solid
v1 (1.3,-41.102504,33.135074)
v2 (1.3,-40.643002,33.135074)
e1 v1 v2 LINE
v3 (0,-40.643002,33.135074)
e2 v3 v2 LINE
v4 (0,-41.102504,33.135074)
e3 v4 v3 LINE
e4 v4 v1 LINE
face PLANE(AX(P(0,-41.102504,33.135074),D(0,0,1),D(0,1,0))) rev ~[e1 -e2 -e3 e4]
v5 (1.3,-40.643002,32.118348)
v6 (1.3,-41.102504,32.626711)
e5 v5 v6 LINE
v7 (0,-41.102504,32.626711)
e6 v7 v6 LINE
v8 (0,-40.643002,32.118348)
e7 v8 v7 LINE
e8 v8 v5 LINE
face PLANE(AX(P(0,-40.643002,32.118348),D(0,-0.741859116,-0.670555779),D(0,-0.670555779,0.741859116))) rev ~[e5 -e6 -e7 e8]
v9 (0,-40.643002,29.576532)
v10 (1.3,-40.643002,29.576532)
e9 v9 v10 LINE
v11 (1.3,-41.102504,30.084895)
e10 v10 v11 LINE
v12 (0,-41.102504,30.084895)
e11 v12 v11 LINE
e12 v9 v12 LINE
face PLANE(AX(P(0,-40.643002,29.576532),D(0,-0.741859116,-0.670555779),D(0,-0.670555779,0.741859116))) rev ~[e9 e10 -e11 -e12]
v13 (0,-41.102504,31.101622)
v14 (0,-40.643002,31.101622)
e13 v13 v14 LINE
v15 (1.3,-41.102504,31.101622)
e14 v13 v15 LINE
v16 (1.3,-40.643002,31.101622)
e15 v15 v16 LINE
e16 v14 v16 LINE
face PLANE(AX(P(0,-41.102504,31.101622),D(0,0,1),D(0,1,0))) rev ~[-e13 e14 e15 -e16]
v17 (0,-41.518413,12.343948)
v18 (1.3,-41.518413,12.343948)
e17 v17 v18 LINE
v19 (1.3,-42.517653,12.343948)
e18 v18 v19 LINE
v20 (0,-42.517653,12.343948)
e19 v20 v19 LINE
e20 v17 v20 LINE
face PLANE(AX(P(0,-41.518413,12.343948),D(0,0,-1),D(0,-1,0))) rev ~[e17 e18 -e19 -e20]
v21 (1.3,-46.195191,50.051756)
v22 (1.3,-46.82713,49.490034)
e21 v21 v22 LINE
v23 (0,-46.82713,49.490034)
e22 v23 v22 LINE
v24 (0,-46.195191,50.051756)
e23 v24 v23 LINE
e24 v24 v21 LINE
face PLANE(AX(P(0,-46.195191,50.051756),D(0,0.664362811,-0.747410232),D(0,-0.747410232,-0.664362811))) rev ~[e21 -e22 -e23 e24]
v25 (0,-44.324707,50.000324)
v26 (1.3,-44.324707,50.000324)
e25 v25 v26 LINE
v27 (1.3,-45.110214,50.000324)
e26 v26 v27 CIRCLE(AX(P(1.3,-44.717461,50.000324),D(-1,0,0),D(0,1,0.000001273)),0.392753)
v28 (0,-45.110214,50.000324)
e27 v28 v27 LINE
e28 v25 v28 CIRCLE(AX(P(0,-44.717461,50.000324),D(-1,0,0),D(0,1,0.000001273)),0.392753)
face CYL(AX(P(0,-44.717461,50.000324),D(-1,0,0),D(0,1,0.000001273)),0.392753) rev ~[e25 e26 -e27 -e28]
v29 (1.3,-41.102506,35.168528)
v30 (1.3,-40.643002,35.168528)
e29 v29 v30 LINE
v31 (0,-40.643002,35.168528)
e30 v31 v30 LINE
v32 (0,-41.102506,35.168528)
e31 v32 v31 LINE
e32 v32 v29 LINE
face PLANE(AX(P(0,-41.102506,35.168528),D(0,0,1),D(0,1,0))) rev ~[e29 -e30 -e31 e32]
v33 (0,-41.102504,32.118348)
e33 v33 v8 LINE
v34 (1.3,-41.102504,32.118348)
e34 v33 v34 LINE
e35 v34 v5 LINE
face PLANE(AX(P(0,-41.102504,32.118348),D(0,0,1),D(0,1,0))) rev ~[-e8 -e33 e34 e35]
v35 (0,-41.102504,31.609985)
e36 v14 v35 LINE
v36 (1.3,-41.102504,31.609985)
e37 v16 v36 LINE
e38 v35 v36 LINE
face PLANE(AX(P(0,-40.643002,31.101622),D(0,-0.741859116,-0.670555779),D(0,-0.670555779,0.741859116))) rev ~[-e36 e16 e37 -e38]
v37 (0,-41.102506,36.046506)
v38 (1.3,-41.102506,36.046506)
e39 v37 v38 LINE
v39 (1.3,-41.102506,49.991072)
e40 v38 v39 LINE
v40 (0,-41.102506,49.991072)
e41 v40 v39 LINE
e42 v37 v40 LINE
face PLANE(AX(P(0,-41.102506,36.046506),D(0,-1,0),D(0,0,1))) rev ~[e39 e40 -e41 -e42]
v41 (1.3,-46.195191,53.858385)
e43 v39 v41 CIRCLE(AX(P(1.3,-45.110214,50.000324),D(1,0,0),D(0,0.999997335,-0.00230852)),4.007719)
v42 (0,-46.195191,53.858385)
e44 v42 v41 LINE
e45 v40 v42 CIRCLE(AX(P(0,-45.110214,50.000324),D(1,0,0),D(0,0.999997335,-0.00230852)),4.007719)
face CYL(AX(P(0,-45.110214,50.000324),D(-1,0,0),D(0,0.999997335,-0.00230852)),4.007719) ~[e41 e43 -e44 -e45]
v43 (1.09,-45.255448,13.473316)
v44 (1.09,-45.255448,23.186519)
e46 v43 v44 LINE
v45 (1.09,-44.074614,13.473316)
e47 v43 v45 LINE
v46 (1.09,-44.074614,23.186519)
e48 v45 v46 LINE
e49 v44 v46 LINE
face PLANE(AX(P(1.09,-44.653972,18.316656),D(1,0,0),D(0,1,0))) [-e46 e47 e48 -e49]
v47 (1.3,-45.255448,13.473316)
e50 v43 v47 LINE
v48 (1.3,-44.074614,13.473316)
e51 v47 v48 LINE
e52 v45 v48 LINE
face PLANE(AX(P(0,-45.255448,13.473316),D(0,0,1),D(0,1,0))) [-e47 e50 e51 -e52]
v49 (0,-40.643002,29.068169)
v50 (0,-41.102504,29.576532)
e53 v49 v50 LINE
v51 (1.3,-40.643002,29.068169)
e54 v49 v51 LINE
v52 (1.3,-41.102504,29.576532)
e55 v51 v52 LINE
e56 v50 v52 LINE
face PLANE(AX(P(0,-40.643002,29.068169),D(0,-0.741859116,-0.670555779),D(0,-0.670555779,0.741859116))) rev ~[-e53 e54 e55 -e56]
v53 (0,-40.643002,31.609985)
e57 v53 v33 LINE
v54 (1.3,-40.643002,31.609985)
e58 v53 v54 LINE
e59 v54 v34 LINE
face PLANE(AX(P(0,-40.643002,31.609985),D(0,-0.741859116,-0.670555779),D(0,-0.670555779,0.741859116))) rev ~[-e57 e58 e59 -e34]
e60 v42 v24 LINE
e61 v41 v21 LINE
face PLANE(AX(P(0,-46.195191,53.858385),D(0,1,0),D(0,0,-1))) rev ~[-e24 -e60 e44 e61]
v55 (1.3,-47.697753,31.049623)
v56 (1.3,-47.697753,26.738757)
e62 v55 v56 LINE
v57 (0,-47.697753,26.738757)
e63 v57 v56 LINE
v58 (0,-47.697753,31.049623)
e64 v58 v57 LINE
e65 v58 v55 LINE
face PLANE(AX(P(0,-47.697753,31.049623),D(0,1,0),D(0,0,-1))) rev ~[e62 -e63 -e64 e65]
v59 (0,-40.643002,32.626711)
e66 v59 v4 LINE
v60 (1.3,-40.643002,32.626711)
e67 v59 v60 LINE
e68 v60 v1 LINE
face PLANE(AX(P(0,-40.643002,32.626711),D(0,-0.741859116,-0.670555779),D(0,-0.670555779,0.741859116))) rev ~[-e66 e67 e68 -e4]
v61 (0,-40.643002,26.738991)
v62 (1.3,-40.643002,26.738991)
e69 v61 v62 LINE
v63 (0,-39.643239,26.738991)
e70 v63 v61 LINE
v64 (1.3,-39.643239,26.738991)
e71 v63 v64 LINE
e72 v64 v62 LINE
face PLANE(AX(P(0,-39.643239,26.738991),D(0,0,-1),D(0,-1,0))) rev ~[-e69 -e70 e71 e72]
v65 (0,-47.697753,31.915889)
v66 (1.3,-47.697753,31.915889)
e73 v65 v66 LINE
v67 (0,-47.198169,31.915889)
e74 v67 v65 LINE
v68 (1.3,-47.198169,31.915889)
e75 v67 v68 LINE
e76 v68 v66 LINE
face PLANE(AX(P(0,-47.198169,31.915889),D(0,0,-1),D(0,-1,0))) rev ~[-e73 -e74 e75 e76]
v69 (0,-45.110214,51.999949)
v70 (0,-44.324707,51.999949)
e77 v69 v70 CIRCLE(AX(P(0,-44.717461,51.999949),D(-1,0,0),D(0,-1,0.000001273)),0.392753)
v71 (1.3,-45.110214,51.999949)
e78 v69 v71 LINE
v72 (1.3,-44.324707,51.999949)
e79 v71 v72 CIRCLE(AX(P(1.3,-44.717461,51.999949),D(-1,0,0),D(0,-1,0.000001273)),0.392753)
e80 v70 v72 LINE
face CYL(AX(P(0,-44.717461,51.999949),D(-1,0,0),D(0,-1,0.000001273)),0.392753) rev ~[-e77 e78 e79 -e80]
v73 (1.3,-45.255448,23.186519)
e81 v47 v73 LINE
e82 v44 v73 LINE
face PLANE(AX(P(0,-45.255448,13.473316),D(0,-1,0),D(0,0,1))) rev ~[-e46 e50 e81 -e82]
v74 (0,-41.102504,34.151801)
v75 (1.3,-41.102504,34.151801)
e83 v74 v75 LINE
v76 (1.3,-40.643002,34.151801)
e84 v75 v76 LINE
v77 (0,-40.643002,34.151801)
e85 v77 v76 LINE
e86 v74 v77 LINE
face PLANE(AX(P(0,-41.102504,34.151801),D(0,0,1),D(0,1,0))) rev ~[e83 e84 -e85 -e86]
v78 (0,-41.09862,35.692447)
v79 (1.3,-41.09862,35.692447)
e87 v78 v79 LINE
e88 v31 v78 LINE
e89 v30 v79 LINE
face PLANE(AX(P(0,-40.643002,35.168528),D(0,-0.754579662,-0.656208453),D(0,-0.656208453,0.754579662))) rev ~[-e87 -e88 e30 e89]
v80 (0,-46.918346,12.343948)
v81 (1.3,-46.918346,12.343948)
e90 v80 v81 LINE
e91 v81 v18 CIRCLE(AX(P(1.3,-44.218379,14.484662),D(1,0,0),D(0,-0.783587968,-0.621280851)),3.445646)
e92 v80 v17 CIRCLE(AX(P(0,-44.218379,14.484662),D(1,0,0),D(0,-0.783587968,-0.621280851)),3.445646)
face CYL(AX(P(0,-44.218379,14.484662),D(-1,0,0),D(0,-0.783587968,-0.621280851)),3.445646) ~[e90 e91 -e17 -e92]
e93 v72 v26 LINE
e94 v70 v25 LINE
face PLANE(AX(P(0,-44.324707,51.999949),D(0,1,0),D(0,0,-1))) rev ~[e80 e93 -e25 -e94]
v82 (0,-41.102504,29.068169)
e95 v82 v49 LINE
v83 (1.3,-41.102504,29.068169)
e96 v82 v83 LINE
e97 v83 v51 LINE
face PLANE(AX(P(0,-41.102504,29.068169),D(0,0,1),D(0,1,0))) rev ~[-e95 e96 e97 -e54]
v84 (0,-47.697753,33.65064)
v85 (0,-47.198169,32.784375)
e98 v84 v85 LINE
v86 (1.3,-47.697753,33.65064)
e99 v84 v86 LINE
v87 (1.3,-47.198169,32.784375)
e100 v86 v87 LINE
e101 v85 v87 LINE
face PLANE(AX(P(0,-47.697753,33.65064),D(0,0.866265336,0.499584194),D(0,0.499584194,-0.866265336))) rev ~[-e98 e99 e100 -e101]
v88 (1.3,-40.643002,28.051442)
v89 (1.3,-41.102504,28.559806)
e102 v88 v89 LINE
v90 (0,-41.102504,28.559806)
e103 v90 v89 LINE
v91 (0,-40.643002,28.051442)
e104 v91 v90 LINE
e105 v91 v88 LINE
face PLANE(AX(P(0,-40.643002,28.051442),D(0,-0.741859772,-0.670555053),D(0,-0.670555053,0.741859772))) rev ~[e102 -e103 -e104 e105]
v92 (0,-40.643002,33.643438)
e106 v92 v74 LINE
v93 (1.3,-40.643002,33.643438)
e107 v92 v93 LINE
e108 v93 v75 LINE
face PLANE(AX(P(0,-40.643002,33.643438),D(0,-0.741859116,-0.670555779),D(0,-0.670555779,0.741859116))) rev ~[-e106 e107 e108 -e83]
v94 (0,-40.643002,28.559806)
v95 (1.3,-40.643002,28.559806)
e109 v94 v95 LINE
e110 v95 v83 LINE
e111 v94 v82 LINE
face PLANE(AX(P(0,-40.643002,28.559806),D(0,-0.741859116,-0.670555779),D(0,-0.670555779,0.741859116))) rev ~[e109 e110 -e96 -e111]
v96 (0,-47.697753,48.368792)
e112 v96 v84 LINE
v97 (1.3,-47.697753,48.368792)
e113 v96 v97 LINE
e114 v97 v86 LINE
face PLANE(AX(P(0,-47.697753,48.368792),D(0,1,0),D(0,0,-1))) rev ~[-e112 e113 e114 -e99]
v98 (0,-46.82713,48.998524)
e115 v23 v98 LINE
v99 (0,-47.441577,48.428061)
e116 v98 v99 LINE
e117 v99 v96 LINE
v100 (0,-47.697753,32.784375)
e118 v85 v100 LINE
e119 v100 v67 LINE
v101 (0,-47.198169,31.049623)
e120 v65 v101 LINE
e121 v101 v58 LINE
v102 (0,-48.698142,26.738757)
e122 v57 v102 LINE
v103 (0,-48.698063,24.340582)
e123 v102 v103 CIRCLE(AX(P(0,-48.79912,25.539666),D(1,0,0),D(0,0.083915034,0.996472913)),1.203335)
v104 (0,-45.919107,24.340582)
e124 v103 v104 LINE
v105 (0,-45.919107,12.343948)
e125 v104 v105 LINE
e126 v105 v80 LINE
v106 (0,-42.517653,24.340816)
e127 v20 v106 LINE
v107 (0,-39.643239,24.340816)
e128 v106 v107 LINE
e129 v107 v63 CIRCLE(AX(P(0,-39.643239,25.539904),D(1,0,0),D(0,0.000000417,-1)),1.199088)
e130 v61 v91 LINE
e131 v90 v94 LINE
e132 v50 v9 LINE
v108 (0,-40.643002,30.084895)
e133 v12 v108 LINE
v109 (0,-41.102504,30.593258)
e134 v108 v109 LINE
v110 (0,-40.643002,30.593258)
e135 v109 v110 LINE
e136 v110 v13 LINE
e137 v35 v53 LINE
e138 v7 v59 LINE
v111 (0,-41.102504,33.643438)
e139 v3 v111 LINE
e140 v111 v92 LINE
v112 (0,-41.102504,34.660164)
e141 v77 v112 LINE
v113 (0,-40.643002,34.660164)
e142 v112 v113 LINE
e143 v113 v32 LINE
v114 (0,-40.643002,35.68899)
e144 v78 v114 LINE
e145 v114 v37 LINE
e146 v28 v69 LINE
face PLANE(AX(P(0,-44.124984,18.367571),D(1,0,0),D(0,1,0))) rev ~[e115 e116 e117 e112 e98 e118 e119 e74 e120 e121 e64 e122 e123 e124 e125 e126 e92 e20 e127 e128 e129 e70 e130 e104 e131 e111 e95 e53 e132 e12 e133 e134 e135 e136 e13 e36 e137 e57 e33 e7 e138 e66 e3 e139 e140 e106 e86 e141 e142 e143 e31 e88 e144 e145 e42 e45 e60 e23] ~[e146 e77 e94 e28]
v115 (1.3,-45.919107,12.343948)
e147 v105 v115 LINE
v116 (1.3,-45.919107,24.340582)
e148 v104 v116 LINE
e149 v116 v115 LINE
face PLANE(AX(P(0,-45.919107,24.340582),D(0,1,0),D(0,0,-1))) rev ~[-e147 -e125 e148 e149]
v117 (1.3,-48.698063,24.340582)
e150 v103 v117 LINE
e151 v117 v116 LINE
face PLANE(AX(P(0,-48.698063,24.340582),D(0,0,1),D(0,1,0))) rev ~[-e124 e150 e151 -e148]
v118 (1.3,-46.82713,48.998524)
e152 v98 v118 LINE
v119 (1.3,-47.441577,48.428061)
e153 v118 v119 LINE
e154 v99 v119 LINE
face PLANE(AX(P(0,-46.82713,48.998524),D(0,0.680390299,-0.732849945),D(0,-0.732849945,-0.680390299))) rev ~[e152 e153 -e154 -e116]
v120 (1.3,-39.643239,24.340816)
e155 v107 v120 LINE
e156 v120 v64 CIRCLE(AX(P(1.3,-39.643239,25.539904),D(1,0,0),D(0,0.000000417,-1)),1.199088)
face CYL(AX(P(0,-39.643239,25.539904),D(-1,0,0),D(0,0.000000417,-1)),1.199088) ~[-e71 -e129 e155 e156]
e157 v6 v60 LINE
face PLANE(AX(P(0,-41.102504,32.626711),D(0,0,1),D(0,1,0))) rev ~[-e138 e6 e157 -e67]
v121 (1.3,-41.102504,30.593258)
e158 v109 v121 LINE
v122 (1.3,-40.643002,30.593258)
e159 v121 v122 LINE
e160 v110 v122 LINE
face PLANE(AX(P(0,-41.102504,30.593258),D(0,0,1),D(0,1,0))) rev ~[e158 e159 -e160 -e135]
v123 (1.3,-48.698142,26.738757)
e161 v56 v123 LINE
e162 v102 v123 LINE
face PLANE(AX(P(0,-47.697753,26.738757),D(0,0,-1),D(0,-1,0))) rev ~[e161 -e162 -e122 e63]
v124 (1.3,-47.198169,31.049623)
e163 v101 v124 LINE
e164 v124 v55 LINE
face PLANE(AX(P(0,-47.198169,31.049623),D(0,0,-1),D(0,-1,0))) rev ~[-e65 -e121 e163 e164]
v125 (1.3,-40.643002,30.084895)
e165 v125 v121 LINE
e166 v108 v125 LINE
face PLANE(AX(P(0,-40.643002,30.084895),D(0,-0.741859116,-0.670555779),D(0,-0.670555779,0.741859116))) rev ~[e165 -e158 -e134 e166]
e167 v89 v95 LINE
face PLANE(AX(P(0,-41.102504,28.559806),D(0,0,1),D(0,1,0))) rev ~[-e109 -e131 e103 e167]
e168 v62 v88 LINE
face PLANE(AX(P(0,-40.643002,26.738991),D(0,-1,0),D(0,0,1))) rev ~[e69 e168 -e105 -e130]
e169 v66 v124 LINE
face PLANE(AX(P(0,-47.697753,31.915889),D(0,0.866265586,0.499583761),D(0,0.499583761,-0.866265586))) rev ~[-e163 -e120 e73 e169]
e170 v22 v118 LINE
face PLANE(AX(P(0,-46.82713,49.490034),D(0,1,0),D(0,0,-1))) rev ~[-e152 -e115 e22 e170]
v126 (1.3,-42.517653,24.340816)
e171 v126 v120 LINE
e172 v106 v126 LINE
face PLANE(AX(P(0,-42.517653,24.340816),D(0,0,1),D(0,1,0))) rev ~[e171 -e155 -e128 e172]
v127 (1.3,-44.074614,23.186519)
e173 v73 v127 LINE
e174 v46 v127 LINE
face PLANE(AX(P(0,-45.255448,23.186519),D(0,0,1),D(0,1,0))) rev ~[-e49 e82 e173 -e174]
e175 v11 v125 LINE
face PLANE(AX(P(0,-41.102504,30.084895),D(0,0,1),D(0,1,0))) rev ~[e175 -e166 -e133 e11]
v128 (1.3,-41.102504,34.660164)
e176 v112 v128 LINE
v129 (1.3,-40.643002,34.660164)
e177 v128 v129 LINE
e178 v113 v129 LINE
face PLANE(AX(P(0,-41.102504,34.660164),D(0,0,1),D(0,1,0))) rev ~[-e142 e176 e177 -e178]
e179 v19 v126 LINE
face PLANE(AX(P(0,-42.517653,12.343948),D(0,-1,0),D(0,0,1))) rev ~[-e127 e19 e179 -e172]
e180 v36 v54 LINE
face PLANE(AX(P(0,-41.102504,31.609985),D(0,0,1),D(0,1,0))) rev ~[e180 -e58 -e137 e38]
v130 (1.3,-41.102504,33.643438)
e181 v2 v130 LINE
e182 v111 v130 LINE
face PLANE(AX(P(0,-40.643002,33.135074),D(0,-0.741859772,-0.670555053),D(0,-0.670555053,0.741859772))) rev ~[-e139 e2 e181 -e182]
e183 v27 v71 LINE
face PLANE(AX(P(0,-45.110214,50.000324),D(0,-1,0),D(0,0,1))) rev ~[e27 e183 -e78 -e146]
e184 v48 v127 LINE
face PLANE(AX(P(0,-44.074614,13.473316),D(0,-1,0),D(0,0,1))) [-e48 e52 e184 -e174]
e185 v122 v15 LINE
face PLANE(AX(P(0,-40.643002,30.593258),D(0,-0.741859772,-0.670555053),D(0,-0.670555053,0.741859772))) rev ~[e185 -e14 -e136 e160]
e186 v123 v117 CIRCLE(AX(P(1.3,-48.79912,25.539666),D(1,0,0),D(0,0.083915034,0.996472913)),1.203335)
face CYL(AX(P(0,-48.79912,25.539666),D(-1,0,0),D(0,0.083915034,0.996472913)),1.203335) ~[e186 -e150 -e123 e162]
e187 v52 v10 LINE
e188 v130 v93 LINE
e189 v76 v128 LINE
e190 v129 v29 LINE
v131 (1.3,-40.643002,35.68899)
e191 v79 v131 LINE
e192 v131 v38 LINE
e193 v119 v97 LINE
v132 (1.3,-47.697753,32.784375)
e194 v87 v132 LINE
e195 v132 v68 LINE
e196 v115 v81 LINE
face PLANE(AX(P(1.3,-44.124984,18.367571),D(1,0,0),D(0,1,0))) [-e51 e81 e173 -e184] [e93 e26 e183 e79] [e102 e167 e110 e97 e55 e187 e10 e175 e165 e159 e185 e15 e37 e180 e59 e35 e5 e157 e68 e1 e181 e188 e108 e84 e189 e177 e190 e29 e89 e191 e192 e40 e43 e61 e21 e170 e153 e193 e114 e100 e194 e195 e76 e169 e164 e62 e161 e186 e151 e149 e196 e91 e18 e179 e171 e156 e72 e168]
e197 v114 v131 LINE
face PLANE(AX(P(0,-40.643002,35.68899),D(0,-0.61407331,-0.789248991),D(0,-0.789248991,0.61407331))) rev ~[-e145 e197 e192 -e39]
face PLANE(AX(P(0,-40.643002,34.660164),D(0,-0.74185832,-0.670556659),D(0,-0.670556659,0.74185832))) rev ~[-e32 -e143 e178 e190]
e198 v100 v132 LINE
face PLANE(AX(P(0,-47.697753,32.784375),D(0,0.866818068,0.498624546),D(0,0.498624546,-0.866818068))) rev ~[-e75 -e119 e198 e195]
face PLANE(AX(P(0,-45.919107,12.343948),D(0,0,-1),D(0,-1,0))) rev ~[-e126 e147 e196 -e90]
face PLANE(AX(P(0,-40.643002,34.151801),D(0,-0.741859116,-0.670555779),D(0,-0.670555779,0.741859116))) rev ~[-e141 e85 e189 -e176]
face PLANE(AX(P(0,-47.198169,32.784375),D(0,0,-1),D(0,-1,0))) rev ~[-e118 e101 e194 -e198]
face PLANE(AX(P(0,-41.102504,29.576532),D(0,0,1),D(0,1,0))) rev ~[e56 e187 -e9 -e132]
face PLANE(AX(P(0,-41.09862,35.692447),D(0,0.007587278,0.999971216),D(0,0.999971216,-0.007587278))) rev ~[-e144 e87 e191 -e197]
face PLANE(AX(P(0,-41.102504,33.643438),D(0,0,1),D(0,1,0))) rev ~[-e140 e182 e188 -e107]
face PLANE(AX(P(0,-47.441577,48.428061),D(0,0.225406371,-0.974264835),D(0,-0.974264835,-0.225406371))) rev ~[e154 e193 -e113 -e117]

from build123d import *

# Parameters (mm, degrees)
F0_W     = 1.180834
F0_H     = 9.713203
F1_DEPTH = 1.3
F2_W     = 1.340505
F2_H     = 10.058258
F3_DEPTH = 1.09


with BuildPart() as f1:
    # F0 (on Right) → F1 (new body)
    with BuildSketch(Plane.YZ):
        with BuildLine():
            Line((-42.517653, 24.340816), (-45.919107, 24.340582))
            Line((-45.919107, 24.340582), (-45.919107, 12.343948))
            Line((-45.919107, 12.343948), (-42.517653, 12.343948))
            Line((-42.517653, 12.343948), (-42.517653, 14.488947))
            Line((-42.517653, 14.488947), (-42.917089, 14.488947))
            ThreePointArc((-42.917089, 14.488947), (-43.065188, 14.637046), (-42.917089, 14.785144))
            ThreePointArc((-42.917089, 14.785144), (-43.067147, 14.935202), (-42.917089, 15.08526))
            ThreePointArc((-42.917089, 15.08526), (-43.067148, 15.235318), (-42.917089, 15.385376))
            ThreePointArc((-42.917089, 15.385376), (-43.067147, 15.535434), (-42.917089, 15.685491))
            Line((-42.917089, 15.685491), (-42.517653, 15.685491))
            Line((-42.517653, 15.685491), (-42.517653, 15.985669))
            Line((-42.517653, 15.985669), (-42.917089, 15.985669))
            ThreePointArc((-42.917089, 15.985669), (-43.066833, 16.135412), (-42.917089, 16.285156))
            ThreePointArc((-42.917089, 16.285156), (-43.06723, 16.435296), (-42.917089, 16.585436))
            ThreePointArc((-42.917089, 16.585436), (-43.066944, 16.735291), (-42.917089, 16.885145))
            ThreePointArc((-42.917089, 16.885145), (-43.066944, 17.034999), (-42.917089, 17.184854))
            ThreePointArc((-42.917089, 17.184854), (-43.066939, 17.334703), (-42.917089, 17.484553))
            ThreePointArc((-42.917089, 17.484553), (-43.066944, 17.634407), (-42.917089, 17.784262))
            ThreePointArc((-42.917089, 17.784262), (-43.06694, 17.934112), (-42.917089, 18.083963))
            ThreePointArc((-42.917089, 18.083963), (-43.067242, 18.234115), (-42.917089, 18.384267))
            ThreePointArc((-42.917089, 18.384267), (-43.067037, 18.534215), (-42.917089, 18.684162))
            ThreePointArc((-42.917089, 18.684162), (-43.067005, 18.834078), (-42.917089, 18.983994))
            ThreePointArc((-42.917089, 18.983994), (-43.067149, 19.134053), (-42.917089, 19.284112))
            ThreePointArc((-42.917089, 19.284112), (-43.067628, 19.434651), (-42.917089, 19.58519))
            ThreePointArc((-42.917089, 19.58519), (-43.067149, 19.735249), (-42.917089, 19.885308))
            ThreePointArc((-42.917089, 19.885308), (-43.067196, 20.035415), (-42.917089, 20.185521))
            ThreePointArc((-42.917089, 20.185521), (-43.067148, 20.335579), (-42.917089, 20.485638))
            ThreePointArc((-42.917089, 20.485638), (-43.067148, 20.635696), (-42.917089, 20.785754))
            ThreePointArc((-42.917089, 20.785754), (-43.067148, 20.935812), (-42.917089, 21.085871))
            ThreePointArc((-42.917089, 21.085871), (-43.067302, 21.236084), (-42.917089, 21.386296))
            ThreePointArc((-42.917089, 21.386296), (-43.067148, 21.536355), (-42.917089, 21.686413))
            ThreePointArc((-42.917089, 21.686413), (-43.067147, 21.83647), (-42.917089, 21.986527))
            ThreePointArc((-42.917089, 21.986527), (-43.067058, 22.136496), (-42.917089, 22.286465))
            ThreePointArc((-42.917089, 22.286465), (-43.067286, 22.436662), (-42.917089, 22.586859))
            ThreePointArc((-42.917089, 22.586859), (-43.066941, 22.736711), (-42.917089, 22.886562))
            ThreePointArc((-42.917089, 22.886562), (-43.067068, 23.03654), (-42.917089, 23.186519))
            Line((-42.917089, 23.186519), (-42.517653, 23.186519))
            Line((-42.517653, 23.186519), (-42.517653, 24.340816))
        make_face()
        with Locations((-44.665031, 18.329918)):
            Rectangle(F0_W, F0_H, mode=Mode.SUBTRACT)
        Polygon((-48.698063, 24.340582), (-45.919107, 24.340582), (-42.517653, 24.340816), (-39.643239, 24.340816), (-39.643239, 26.738991), (-40.643002, 26.738991), (-47.697753, 26.738757), (-48.698142, 26.738757), align=None)
        with BuildLine():
            Line((-42.517653, 12.343948), (-45.919107, 12.343948))
            Line((-45.919107, 12.343948), (-46.918346, 12.343948))
            ThreePointArc((-46.918346, 12.343948), (-44.21838, 11.039016), (-41.518413, 12.343948))
            Line((-41.518413, 12.343948), (-42.517653, 12.343948))
        make_face()
        with BuildLine():
            ThreePointArc((-48.698142, 26.738757), (-50.002455, 25.539626), (-48.698063, 24.340582))
            Line((-48.698063, 24.340582), (-48.698142, 26.738757))
        make_face()
        with BuildLine():
            Line((-42.517653, 22.886562), (-42.517653, 23.186519))
            Line((-42.517653, 23.186519), (-42.917089, 23.186519))
            ThreePointArc((-42.917089, 23.186519), (-43.067068, 23.03654), (-42.917089, 22.886562))
            Line((-42.917089, 22.886562), (-42.517653, 22.886562))
        make_face()
        with BuildLine():
            Line((-39.643239, 26.738991), (-39.643239, 24.340816))
            ThreePointArc((-39.643239, 24.340816), (-38.444152, 25.539904), (-39.643239, 26.738991))
        make_face()
        with BuildLine():
            Line((-42.917089, 14.488947), (-42.517653, 14.488947))
            Line((-42.517653, 14.488947), (-42.517653, 14.785144))
            Line((-42.517653, 14.785144), (-42.917089, 14.785144))
            ThreePointArc((-42.917089, 14.785144), (-43.065188, 14.637046), (-42.917089, 14.488947))
        make_face()
        with BuildLine():
            Line((-42.517653, 22.586859), (-42.517653, 22.886562))
            Line((-42.517653, 22.886562), (-42.917089, 22.886562))
            ThreePointArc((-42.917089, 22.886562), (-43.066941, 22.736711), (-42.917089, 22.586859))
            Line((-42.917089, 22.586859), (-42.517653, 22.586859))
        make_face()
        Polygon((-47.697753, 31.049623), (-47.697753, 26.738757), (-40.643002, 26.738991), (-40.643002, 28.051442), (-41.102504, 28.559806), (-40.643002, 28.559806), (-41.102504, 29.068169), (-40.643002, 29.068169), (-41.102504, 29.576532), (-40.643002, 29.576532), (-41.102504, 30.084895), (-40.643002, 30.084895), (-41.102504, 30.593258), (-40.643002, 30.593258), (-41.102504, 31.101622), (-40.643002, 31.101622), (-41.102504, 31.609985), (-40.643002, 31.609985), (-41.102504, 32.118348), (-40.643002, 32.118348), (-41.102504, 32.626711), (-40.643002, 32.626711), (-41.102504, 33.135074), (-40.643002, 33.135074), (-41.102504, 33.643438), (-40.643002, 33.643438), (-41.102504, 34.151801), (-40.643002, 34.151801), (-41.102504, 34.660164), (-40.643002, 34.660164), (-41.102506, 35.168528), (-40.643002, 35.168528), (-41.09862, 35.692447), (-40.643002, 35.68899), (-41.102506, 36.046506), (-42.228938, 36.922926), (-42.228938, 47.611012), (-42.228938, 48.368792), (-42.228938, 49.656781), (-42.228938, 50.742287), (-42.82525, 51.877759), (-43.982454, 52.871555), (-44.859211, 53.49781), (-45.443715, 53.858385), (-46.195191, 53.858385), (-46.195191, 50.859235), (-46.195191, 50.051756), (-46.82713, 49.490034), (-46.82713, 48.998524), (-47.441577, 48.428061), (-47.697753, 48.368792), (-47.697753, 33.65064), (-47.198169, 32.784375), (-47.697753, 32.784375), (-47.198169, 31.915889), (-47.697753, 31.915889), (-47.198169, 31.049623), align=None)
        with BuildLine():
            ThreePointArc((-44.324707, 50.000324), (-44.717461, 49.60757), (-45.110214, 50.000324))
            Line((-45.110214, 50.000324), (-45.110214, 51.999949))
            ThreePointArc((-45.110214, 51.999949), (-44.717461, 52.392702), (-44.324707, 51.999949))
            Line((-44.324707, 51.999949), (-44.324707, 50.000324))
        make_face(mode=Mode.SUBTRACT)
        with BuildLine():
            Line((-42.917089, 14.785144), (-42.517653, 14.785144))
            Line((-42.517653, 14.785144), (-42.517653, 15.08526))
            Line((-42.517653, 15.08526), (-42.917089, 15.08526))
            ThreePointArc((-42.917089, 15.08526), (-43.067147, 14.935202), (-42.917089, 14.785144))
        make_face()
        with BuildLine():
            Line((-42.517653, 22.286465), (-42.517653, 22.586859))
            Line((-42.517653, 22.586859), (-42.917089, 22.586859))
            ThreePointArc((-42.917089, 22.586859), (-43.067286, 22.436662), (-42.917089, 22.286465))
            Line((-42.917089, 22.286465), (-42.517653, 22.286465))
        make_face()
        with BuildLine():
            Line((-42.917089, 15.08526), (-42.517653, 15.08526))
            Line((-42.517653, 15.08526), (-42.517653, 15.385376))
            Line((-42.517653, 15.385376), (-42.917089, 15.385376))
            ThreePointArc((-42.917089, 15.385376), (-43.067148, 15.235318), (-42.917089, 15.08526))
        make_face()
        with BuildLine():
            Line((-42.517653, 21.986527), (-42.517653, 22.286465))
            Line((-42.517653, 22.286465), (-42.917089, 22.286465))
            ThreePointArc((-42.917089, 22.286465), (-43.067058, 22.136496), (-42.917089, 21.986527))
            Line((-42.917089, 21.986527), (-42.517653, 21.986527))
        make_face()
        with BuildLine():
            Line((-42.917089, 15.385376), (-42.517653, 15.385376))
            Line((-42.517653, 15.385376), (-42.517653, 15.685491))
            Line((-42.517653, 15.685491), (-42.917089, 15.685491))
            ThreePointArc((-42.917089, 15.685491), (-43.067147, 15.535434), (-42.917089, 15.385376))
        make_face()
        with BuildLine():
            Line((-42.517653, 21.686413), (-42.517653, 21.986527))
            Line((-42.517653, 21.986527), (-42.917089, 21.986527))
            ThreePointArc((-42.917089, 21.986527), (-43.067147, 21.83647), (-42.917089, 21.686413))
            Line((-42.917089, 21.686413), (-42.517653, 21.686413))
        make_face()
        with BuildLine():
            Line((-42.517653, 21.386296), (-42.517653, 21.686413))
            Line((-42.517653, 21.686413), (-42.917089, 21.686413))
            ThreePointArc((-42.917089, 21.686413), (-43.067148, 21.536355), (-42.917089, 21.386296))
            Line((-42.917089, 21.386296), (-42.517653, 21.386296))
        make_face()
        with BuildLine():
            Line((-42.917089, 15.985669), (-42.517653, 15.985669))
            Line((-42.517653, 15.985669), (-42.517653, 16.285156))
            Line((-42.517653, 16.285156), (-42.917089, 16.285156))
            ThreePointArc((-42.917089, 16.285156), (-43.066833, 16.135412), (-42.917089, 15.985669))
        make_face()
        with BuildLine():
            Line((-42.517653, 21.085871), (-42.517653, 21.386296))
            Line((-42.517653, 21.386296), (-42.917089, 21.386296))
            ThreePointArc((-42.917089, 21.386296), (-43.067302, 21.236084), (-42.917089, 21.085871))
            Line((-42.917089, 21.085871), (-42.517653, 21.085871))
        make_face()
        with BuildLine():
            Line((-42.917089, 16.285156), (-42.517653, 16.285156))
            Line((-42.517653, 16.285156), (-42.517653, 16.585436))
            Line((-42.517653, 16.585436), (-42.917089, 16.585436))
            ThreePointArc((-42.917089, 16.585436), (-43.06723, 16.435296), (-42.917089, 16.285156))
        make_face()
        with BuildLine():
            Line((-42.517653, 20.785754), (-42.517653, 21.085871))
            Line((-42.517653, 21.085871), (-42.917089, 21.085871))
            ThreePointArc((-42.917089, 21.085871), (-43.067148, 20.935812), (-42.917089, 20.785754))
            Line((-42.917089, 20.785754), (-42.517653, 20.785754))
        make_face()
        with BuildLine():
            Line((-42.917089, 16.585436), (-42.517653, 16.585436))
            Line((-42.517653, 16.585436), (-42.517653, 16.885145))
            Line((-42.517653, 16.885145), (-42.917089, 16.885145))
            ThreePointArc((-42.917089, 16.885145), (-43.066944, 16.735291), (-42.917089, 16.585436))
        make_face()
        with BuildLine():
            Line((-42.517653, 20.485638), (-42.517653, 20.785754))
            Line((-42.517653, 20.785754), (-42.917089, 20.785754))
            ThreePointArc((-42.917089, 20.785754), (-43.067148, 20.635696), (-42.917089, 20.485638))
            Line((-42.917089, 20.485638), (-42.517653, 20.485638))
        make_face()
        with BuildLine():
            Line((-42.917089, 16.885145), (-42.517653, 16.885145))
            Line((-42.517653, 16.885145), (-42.517653, 17.184854))
            Line((-42.517653, 17.184854), (-42.917089, 17.184854))
            ThreePointArc((-42.917089, 17.184854), (-43.066944, 17.034999), (-42.917089, 16.885145))
        make_face()
        with BuildLine():
            Line((-42.517653, 20.185521), (-42.517653, 20.485638))
            Line((-42.517653, 20.485638), (-42.917089, 20.485638))
            ThreePointArc((-42.917089, 20.485638), (-43.067148, 20.335579), (-42.917089, 20.185521))
            Line((-42.917089, 20.185521), (-42.517653, 20.185521))
        make_face()
        with BuildLine():
            Line((-42.917089, 17.184854), (-42.517653, 17.184854))
            Line((-42.517653, 17.184854), (-42.517653, 17.484553))
            Line((-42.517653, 17.484553), (-42.917089, 17.484553))
            ThreePointArc((-42.917089, 17.484553), (-43.066939, 17.334703), (-42.917089, 17.184854))
        make_face()
        with BuildLine():
            Line((-42.517653, 19.885308), (-42.517653, 20.185521))
            Line((-42.517653, 20.185521), (-42.917089, 20.185521))
            ThreePointArc((-42.917089, 20.185521), (-43.067196, 20.035415), (-42.917089, 19.885308))
            Line((-42.917089, 19.885308), (-42.517653, 19.885308))
        make_face()
        with BuildLine():
            Line((-42.917089, 17.484553), (-42.517653, 17.484553))
            Line((-42.517653, 17.484553), (-42.517653, 17.784262))
            Line((-42.517653, 17.784262), (-42.917089, 17.784262))
            ThreePointArc((-42.917089, 17.784262), (-43.066944, 17.634407), (-42.917089, 17.484553))
        make_face()
        with BuildLine():
            Line((-42.517653, 19.58519), (-42.517653, 19.885308))
            Line((-42.517653, 19.885308), (-42.917089, 19.885308))
            ThreePointArc((-42.917089, 19.885308), (-43.067149, 19.735249), (-42.917089, 19.58519))
            Line((-42.917089, 19.58519), (-42.517653, 19.58519))
        make_face()
        with BuildLine():
            Line((-42.917089, 17.784262), (-42.517653, 17.784262))
            Line((-42.517653, 17.784262), (-42.517653, 18.083963))
            Line((-42.517653, 18.083963), (-42.917089, 18.083963))
            ThreePointArc((-42.917089, 18.083963), (-43.06694, 17.934112), (-42.917089, 17.784262))
        make_face()
        with BuildLine():
            Line((-42.517653, 19.284112), (-42.517653, 19.58519))
            Line((-42.517653, 19.58519), (-42.917089, 19.58519))
            ThreePointArc((-42.917089, 19.58519), (-43.067628, 19.434651), (-42.917089, 19.284112))
            Line((-42.917089, 19.284112), (-42.517653, 19.284112))
        make_face()
        with BuildLine():
            Line((-42.917089, 18.083963), (-42.517653, 18.083963))
            Line((-42.517653, 18.083963), (-42.517653, 18.384267))
            Line((-42.517653, 18.384267), (-42.917089, 18.384267))
            ThreePointArc((-42.917089, 18.384267), (-43.067242, 18.234115), (-42.917089, 18.083963))
        make_face()
        with BuildLine():
            Line((-42.517653, 18.983994), (-42.517653, 19.284112))
            Line((-42.517653, 19.284112), (-42.917089, 19.284112))
            ThreePointArc((-42.917089, 19.284112), (-43.067149, 19.134053), (-42.917089, 18.983994))
            Line((-42.917089, 18.983994), (-42.517653, 18.983994))
        make_face()
        with BuildLine():
            Line((-42.917089, 18.384267), (-42.517653, 18.384267))
            Line((-42.517653, 18.384267), (-42.517653, 18.684162))
            Line((-42.517653, 18.684162), (-42.917089, 18.684162))
            ThreePointArc((-42.917089, 18.684162), (-43.067037, 18.534215), (-42.917089, 18.384267))
        make_face()
        with BuildLine():
            Line((-42.517653, 18.684162), (-42.517653, 18.983994))
            Line((-42.517653, 18.983994), (-42.917089, 18.983994))
            ThreePointArc((-42.917089, 18.983994), (-43.067005, 18.834078), (-42.917089, 18.684162))
            Line((-42.917089, 18.684162), (-42.517653, 18.684162))
        make_face()
        with BuildLine():
            ThreePointArc((-41.102506, 49.991072), (-42.686453, 53.192062), (-46.195191, 53.858385))
            Line((-46.195191, 53.858385), (-45.443715, 53.858385))
            Line((-45.443715, 53.858385), (-44.859211, 53.49781))
            Line((-44.859211, 53.49781), (-43.982454, 52.871555))
            Line((-43.982454, 52.871555), (-42.82525, 51.877759))
            Line((-42.82525, 51.877759), (-42.228938, 50.742287))
            Line((-42.228938, 50.742287), (-42.228938, 49.656781))
            Line((-42.228938, 49.656781), (-42.228938, 48.368792))
            Line((-42.228938, 48.368792), (-42.228938, 47.611012))
            Line((-42.228938, 47.611012), (-42.228938, 36.922926))
            Line((-42.228938, 36.922926), (-41.102506, 36.046506))
            Line((-41.102506, 36.046506), (-41.102506, 49.991072))
        make_face()
    extrude(amount=F1_DEPTH)

    # F2 (on Right) → F3 (join)
    with BuildSketch(Plane.YZ):
        with Locations((-44.653972, 18.316656)):
            Rectangle(F2_W, F2_H)
    extrude(amount=F3_DEPTH)


solid = f1.part
